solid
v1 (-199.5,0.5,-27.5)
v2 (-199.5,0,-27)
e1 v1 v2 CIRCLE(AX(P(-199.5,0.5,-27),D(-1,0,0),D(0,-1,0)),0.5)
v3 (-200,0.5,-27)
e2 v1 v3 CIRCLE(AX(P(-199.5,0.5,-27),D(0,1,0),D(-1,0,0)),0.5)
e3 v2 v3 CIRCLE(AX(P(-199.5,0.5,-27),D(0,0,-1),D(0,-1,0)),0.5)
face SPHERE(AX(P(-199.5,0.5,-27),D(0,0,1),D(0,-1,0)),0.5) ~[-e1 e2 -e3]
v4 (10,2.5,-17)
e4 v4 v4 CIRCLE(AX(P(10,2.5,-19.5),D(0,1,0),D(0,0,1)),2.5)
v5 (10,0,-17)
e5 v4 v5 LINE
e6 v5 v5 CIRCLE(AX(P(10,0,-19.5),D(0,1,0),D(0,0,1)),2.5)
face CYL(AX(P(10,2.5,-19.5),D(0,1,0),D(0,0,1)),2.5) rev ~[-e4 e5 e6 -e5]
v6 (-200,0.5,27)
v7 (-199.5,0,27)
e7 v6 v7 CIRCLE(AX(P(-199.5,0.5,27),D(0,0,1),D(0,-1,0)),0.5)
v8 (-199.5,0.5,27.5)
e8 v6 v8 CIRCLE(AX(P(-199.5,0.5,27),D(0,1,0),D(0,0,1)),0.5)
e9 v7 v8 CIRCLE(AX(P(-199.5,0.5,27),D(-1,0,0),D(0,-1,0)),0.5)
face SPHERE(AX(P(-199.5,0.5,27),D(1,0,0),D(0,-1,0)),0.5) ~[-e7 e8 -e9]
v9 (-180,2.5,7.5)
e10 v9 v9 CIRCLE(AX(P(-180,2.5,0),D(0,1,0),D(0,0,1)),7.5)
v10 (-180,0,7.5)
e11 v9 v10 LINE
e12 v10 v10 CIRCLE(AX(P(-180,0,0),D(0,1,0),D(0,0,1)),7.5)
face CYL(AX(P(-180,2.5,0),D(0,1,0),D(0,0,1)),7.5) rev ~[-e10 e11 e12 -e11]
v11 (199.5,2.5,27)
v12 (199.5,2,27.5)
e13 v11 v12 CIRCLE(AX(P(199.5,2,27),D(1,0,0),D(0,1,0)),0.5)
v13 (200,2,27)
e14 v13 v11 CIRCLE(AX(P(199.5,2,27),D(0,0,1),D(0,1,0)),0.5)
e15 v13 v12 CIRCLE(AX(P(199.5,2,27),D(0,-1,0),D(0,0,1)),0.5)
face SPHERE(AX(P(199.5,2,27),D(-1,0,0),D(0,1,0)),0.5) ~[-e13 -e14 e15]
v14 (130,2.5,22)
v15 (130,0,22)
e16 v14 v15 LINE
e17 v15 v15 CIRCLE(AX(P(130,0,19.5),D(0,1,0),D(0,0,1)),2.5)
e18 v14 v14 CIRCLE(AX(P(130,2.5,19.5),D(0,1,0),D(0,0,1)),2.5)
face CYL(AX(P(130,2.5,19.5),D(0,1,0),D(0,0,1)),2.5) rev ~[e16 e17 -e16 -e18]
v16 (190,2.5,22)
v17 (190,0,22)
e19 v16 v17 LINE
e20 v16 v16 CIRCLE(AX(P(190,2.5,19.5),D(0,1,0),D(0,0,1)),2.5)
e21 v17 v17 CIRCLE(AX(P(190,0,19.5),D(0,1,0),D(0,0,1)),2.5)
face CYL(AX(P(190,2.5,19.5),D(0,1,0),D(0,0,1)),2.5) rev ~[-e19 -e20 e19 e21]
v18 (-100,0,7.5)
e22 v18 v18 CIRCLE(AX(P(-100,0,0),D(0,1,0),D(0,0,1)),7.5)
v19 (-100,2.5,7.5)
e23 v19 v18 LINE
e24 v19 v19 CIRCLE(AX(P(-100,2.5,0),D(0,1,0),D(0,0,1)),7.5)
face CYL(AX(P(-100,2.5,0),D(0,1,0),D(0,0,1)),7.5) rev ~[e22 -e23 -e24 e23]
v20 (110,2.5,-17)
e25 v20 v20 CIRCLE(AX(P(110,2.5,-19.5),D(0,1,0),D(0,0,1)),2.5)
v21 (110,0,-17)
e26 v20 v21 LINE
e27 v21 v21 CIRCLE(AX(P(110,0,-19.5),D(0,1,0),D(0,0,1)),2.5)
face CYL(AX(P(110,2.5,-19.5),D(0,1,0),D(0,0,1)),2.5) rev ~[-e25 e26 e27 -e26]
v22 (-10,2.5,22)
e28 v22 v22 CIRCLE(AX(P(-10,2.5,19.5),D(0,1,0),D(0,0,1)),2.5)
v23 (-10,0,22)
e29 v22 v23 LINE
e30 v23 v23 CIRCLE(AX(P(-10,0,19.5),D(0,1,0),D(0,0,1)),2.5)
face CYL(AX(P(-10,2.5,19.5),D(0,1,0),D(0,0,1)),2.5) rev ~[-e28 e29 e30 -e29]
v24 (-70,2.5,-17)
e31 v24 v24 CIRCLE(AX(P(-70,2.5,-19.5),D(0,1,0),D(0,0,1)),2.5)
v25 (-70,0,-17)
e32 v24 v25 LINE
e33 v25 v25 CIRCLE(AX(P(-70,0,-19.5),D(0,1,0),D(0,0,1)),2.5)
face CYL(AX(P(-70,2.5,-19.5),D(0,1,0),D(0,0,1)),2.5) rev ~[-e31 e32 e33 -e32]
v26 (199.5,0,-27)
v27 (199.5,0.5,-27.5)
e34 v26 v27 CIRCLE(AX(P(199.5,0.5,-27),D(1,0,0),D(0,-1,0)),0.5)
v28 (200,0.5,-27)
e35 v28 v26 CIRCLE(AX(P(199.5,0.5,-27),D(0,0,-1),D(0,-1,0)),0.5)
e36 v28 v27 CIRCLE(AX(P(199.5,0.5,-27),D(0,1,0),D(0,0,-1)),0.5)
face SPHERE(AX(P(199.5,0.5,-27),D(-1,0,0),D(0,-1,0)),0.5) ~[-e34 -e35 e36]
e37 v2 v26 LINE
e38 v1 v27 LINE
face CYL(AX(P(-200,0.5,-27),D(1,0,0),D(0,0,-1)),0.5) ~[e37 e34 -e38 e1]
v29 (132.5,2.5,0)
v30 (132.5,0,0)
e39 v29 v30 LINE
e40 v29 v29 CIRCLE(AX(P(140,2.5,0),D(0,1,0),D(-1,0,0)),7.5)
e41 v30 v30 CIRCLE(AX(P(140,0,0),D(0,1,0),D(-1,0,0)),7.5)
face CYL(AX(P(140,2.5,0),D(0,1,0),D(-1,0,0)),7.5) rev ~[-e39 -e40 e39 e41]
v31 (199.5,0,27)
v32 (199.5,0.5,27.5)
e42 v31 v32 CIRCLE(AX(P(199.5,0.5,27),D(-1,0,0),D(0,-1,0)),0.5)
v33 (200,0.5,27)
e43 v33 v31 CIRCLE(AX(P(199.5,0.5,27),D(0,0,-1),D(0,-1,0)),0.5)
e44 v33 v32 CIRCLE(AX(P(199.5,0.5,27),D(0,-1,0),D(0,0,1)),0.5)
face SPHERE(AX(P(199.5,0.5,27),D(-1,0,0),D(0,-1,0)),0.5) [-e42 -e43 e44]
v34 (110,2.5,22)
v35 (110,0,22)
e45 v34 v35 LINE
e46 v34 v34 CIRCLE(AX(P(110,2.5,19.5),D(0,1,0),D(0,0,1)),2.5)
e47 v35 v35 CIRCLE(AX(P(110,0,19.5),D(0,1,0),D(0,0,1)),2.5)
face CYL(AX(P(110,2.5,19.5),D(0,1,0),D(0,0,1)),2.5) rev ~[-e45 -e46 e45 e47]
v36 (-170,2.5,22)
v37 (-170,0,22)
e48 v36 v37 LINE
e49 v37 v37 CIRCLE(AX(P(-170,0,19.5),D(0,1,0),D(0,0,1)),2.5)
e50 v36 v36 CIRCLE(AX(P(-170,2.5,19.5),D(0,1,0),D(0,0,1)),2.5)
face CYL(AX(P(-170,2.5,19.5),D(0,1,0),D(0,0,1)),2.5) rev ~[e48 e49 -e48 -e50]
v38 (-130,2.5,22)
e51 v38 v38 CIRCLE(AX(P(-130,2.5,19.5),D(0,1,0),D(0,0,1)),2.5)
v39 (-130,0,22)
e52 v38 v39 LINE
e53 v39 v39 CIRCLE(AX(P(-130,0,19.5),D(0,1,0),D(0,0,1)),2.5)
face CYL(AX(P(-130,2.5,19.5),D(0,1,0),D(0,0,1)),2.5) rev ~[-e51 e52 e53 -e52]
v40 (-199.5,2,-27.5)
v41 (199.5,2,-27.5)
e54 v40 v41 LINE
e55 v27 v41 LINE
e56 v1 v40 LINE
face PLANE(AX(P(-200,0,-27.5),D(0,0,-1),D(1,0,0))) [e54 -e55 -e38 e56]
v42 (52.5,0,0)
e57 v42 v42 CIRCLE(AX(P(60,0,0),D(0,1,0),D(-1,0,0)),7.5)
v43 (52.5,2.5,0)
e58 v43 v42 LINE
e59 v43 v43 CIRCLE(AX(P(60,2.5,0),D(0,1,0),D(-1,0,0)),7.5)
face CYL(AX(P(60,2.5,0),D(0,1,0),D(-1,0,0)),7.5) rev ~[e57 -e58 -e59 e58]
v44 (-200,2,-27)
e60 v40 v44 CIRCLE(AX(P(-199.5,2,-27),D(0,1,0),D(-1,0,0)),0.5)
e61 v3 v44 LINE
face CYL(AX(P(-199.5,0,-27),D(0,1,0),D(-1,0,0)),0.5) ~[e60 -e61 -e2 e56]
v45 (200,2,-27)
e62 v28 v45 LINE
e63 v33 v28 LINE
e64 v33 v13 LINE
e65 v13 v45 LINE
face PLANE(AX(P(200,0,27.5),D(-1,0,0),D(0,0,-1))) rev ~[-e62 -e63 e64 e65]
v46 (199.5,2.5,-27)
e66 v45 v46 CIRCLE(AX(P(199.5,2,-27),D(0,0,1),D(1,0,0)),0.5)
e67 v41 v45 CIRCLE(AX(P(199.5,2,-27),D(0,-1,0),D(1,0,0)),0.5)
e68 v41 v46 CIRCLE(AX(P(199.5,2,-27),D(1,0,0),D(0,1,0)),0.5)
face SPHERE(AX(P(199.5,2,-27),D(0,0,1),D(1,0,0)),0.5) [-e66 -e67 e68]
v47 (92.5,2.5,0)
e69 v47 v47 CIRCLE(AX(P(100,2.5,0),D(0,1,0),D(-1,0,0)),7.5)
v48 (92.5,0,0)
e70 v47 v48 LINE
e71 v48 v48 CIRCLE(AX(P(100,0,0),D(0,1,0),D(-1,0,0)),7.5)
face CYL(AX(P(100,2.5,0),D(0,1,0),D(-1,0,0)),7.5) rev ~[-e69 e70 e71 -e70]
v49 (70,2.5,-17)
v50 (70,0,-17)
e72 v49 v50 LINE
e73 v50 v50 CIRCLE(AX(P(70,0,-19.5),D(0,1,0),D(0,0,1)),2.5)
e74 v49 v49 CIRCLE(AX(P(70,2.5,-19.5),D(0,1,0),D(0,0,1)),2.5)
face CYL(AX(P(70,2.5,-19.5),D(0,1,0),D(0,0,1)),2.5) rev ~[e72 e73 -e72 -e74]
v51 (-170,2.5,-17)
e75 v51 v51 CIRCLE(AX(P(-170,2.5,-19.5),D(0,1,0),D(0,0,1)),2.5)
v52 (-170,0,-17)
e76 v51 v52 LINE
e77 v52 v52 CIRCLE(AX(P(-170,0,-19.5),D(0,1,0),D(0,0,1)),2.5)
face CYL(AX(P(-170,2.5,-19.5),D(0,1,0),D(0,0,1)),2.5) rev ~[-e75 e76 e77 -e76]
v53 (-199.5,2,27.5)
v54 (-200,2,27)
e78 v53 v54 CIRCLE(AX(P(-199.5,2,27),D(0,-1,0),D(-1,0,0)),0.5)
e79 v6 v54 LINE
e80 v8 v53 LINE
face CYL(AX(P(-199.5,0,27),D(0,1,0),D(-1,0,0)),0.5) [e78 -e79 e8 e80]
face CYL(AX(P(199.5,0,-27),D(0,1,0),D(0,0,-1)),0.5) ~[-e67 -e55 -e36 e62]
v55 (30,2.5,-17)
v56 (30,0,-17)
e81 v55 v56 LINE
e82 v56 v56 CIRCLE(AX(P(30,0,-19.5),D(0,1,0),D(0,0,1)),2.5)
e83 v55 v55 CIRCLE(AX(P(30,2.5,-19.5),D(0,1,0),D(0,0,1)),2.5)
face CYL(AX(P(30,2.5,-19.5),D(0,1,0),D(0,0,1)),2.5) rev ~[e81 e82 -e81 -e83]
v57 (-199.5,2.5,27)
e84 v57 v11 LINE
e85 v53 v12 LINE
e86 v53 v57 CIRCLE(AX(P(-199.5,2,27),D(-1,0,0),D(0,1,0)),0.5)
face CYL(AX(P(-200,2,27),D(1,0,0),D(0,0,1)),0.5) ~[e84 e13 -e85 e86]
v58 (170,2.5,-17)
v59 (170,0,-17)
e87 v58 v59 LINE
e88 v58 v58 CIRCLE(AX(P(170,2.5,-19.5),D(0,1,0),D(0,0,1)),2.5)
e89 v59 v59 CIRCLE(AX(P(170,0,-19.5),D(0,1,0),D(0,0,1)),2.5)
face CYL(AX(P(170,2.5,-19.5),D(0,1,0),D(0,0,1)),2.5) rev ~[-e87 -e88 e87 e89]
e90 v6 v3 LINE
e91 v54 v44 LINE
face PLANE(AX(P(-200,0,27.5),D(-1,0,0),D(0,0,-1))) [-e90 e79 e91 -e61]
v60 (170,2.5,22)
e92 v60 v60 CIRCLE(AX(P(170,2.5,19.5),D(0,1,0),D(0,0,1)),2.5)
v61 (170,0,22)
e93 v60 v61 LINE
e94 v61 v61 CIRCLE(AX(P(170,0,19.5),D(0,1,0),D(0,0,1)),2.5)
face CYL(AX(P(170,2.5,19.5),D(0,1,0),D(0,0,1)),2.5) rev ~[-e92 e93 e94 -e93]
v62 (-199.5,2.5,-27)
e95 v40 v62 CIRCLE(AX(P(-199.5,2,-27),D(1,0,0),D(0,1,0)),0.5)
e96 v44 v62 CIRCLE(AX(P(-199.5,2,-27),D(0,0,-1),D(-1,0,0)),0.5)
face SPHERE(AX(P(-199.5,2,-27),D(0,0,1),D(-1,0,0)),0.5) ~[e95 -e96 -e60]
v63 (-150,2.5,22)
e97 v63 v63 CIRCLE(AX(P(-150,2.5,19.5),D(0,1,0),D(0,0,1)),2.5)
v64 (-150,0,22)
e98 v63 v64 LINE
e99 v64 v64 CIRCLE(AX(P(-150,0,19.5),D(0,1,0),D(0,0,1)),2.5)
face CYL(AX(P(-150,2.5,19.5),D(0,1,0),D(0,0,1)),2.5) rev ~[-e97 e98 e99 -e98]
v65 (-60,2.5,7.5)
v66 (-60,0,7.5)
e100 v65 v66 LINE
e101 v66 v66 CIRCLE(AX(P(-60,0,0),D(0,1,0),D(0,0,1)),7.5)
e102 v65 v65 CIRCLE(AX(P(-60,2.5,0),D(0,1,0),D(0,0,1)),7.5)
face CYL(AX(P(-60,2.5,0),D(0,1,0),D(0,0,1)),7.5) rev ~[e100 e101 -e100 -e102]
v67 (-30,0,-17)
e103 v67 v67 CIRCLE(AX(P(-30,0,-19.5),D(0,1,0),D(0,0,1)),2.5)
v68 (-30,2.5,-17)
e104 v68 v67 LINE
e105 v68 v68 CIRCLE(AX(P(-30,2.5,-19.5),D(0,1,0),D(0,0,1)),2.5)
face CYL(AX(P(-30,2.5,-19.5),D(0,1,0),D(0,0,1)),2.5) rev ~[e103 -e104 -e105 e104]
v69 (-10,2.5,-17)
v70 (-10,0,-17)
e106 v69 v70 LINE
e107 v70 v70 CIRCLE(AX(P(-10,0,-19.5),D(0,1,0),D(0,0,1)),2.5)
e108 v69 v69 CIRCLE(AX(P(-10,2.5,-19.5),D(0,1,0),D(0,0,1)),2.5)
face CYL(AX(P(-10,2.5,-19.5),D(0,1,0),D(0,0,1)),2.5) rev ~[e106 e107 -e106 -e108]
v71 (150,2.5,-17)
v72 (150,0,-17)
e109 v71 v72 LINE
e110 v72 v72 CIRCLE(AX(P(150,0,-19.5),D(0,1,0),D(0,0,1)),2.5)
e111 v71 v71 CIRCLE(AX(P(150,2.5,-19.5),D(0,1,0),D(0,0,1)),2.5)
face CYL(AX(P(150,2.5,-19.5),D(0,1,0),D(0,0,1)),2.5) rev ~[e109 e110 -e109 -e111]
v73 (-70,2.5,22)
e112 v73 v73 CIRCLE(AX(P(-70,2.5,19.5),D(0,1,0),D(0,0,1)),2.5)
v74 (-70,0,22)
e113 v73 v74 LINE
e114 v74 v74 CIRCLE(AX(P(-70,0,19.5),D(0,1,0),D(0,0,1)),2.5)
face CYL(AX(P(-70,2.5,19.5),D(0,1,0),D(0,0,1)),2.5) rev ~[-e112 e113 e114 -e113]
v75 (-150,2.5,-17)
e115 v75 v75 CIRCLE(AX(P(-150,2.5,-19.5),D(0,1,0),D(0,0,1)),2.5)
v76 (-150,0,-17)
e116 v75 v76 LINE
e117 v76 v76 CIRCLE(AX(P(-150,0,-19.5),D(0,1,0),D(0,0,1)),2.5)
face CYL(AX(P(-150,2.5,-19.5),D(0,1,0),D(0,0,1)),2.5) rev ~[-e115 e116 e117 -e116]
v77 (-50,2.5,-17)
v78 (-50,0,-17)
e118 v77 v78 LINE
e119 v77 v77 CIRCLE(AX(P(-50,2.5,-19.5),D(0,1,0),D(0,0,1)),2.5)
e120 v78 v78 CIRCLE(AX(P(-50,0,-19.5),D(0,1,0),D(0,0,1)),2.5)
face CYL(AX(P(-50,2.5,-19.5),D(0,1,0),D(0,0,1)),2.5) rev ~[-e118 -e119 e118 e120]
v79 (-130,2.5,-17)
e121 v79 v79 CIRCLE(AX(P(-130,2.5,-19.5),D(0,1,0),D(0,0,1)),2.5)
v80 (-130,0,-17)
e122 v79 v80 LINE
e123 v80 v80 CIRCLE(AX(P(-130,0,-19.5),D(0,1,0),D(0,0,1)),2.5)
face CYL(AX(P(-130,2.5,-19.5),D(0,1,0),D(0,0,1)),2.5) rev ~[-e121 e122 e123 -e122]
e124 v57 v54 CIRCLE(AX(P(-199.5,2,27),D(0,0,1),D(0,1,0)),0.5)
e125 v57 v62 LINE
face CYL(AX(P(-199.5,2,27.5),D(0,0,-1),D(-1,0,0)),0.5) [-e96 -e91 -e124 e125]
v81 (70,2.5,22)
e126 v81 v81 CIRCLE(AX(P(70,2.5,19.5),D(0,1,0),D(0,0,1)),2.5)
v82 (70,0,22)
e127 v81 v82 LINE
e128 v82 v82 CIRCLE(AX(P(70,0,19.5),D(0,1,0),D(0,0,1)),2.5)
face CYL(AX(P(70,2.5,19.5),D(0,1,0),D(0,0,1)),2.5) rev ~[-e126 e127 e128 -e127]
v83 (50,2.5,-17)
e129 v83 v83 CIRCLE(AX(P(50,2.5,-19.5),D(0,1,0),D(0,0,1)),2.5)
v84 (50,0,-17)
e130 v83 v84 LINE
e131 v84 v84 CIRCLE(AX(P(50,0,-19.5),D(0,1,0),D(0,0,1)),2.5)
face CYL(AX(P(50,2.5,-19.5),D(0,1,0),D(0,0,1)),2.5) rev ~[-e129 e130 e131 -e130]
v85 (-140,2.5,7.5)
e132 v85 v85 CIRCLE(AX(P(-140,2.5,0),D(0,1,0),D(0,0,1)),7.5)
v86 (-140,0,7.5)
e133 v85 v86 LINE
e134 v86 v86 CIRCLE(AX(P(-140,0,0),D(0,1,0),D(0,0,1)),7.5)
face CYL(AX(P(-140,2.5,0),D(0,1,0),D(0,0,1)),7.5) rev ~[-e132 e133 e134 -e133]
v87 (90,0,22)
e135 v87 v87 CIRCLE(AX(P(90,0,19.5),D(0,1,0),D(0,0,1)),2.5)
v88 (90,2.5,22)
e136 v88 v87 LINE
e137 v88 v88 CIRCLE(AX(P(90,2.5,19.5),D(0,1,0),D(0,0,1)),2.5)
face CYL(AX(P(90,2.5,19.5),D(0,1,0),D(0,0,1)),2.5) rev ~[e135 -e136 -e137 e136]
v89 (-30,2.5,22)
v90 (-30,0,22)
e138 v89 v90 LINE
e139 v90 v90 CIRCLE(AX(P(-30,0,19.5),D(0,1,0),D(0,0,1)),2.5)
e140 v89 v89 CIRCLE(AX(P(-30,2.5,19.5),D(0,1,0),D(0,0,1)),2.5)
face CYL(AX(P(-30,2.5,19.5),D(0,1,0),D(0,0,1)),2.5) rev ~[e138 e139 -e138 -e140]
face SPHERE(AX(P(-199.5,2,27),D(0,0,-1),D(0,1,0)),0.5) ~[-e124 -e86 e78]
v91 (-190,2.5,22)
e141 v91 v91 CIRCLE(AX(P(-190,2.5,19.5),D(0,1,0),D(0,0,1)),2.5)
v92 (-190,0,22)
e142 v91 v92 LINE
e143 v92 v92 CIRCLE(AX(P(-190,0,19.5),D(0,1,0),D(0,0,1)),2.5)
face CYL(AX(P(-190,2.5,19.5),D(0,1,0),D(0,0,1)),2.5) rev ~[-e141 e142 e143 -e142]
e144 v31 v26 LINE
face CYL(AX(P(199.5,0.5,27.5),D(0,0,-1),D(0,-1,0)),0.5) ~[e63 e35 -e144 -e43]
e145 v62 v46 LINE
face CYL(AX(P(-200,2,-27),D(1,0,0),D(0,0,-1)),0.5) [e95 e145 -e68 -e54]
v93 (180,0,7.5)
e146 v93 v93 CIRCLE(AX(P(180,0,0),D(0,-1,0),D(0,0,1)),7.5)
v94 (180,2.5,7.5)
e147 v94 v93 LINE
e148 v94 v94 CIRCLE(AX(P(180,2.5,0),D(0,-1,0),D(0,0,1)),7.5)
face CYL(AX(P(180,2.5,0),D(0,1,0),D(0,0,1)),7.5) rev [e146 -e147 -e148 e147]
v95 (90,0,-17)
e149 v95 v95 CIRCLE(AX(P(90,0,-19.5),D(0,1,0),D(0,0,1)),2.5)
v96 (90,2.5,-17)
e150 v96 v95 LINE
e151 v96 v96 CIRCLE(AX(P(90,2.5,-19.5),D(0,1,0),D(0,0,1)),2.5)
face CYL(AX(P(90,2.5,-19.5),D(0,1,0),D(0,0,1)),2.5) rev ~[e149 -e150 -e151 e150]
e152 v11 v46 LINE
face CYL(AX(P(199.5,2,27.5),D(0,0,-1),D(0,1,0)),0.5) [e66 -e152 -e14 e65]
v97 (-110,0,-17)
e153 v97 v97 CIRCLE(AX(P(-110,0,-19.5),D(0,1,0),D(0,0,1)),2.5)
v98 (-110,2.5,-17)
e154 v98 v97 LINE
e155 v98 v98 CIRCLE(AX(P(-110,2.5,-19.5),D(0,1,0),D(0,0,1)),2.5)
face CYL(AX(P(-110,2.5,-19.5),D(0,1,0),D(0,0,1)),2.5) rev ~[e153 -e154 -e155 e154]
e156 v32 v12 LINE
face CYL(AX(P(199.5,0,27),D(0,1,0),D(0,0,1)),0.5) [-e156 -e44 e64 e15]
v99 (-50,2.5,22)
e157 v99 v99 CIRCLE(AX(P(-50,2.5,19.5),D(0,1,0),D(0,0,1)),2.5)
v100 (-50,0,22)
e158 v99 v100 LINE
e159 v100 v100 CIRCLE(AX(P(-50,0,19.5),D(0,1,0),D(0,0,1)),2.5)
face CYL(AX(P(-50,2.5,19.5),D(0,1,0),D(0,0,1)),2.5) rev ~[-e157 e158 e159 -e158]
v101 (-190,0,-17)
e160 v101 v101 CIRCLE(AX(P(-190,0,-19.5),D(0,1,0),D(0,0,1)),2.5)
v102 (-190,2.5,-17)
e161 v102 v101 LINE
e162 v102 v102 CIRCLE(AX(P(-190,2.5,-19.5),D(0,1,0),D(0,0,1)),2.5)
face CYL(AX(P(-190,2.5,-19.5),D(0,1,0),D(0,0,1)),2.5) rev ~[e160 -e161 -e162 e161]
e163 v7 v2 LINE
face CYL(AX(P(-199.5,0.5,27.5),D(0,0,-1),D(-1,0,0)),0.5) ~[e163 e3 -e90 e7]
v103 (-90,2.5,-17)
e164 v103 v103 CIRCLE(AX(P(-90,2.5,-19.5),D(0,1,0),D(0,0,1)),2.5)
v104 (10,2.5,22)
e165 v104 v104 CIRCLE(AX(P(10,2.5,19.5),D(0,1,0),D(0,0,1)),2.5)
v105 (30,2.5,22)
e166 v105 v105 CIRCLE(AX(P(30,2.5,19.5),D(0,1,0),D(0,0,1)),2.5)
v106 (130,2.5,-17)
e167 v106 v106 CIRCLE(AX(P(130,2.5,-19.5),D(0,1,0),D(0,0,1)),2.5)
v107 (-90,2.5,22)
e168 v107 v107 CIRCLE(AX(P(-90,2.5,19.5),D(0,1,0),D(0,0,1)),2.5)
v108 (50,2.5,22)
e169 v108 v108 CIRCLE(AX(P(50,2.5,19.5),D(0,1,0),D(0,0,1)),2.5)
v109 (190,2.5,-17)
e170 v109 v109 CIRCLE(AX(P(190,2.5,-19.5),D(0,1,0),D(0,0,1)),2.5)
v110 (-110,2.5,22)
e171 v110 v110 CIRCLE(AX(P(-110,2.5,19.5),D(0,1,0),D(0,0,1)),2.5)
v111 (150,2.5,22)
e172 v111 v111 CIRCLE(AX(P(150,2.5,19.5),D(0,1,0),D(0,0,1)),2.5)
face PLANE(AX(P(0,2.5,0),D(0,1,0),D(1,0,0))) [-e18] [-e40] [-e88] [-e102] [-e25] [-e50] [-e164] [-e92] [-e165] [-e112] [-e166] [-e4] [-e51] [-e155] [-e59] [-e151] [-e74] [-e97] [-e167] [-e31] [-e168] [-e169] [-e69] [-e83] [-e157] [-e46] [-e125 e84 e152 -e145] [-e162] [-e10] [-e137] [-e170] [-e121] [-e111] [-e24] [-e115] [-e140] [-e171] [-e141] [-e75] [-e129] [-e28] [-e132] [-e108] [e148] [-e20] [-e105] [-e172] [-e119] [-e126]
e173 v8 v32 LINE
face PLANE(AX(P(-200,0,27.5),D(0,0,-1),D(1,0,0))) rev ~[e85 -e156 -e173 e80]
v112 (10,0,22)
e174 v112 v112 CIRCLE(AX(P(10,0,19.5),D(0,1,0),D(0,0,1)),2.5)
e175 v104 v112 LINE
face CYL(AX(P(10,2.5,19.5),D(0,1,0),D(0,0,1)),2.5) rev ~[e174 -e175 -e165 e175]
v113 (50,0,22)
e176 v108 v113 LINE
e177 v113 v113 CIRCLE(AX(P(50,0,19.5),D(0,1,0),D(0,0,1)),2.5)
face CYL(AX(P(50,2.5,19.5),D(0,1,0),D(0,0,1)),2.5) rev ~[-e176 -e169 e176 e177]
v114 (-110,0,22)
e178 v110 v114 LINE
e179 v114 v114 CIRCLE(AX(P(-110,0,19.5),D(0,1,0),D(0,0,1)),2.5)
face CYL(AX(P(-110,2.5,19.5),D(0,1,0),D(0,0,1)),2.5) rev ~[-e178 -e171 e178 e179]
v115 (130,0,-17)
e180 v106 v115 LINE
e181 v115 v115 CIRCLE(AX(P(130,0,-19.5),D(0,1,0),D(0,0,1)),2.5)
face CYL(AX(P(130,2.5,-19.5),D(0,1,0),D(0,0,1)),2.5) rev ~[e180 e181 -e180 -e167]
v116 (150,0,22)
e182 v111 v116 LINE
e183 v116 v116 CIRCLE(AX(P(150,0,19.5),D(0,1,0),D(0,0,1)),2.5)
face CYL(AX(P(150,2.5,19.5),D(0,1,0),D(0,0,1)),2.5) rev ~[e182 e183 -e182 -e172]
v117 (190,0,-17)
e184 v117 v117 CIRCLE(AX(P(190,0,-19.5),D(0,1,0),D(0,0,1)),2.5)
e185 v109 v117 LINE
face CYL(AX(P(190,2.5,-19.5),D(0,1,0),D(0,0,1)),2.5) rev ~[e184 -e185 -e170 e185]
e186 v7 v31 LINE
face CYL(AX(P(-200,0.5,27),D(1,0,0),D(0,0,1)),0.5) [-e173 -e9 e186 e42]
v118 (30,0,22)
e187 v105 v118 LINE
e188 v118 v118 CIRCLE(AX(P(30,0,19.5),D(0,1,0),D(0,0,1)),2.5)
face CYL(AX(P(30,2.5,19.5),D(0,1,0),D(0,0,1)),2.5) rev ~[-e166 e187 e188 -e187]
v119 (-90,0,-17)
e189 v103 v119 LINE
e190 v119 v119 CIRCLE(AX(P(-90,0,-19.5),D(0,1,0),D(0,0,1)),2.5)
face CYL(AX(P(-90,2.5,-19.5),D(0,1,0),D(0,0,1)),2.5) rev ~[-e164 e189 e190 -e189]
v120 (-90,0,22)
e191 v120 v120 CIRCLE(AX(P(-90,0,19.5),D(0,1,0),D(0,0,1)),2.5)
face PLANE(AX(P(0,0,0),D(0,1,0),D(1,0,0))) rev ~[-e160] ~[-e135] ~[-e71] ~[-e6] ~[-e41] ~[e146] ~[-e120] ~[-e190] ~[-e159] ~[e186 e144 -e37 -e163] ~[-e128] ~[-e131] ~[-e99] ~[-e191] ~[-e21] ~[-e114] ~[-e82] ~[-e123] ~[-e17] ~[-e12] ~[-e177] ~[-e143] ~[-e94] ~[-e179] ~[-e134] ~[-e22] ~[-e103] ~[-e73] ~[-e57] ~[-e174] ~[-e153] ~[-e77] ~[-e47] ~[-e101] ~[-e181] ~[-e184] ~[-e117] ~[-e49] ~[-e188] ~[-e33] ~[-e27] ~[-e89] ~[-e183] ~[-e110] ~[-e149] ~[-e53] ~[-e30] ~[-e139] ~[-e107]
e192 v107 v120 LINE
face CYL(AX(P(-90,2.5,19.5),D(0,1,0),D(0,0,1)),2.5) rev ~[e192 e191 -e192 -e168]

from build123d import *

# Parameters (mm, degrees)
SKETCH1_W               = 400
SKETCH1_H               = 55
BOSS_EXTRUDE1_DEPTH     = 2.5
SKETCH2_R               = 2.5
CUT_EXTRUDE1_DEPTH      = 2.5
LPATTERN1_COUNT         = 10
LPATTERN1_PITCH         = 40
SKETCH3_R               = 7.5
CUT_EXTRUDE2_DEPTH      = 2.5
LPATTERN2_COUNT         = 4
LPATTERN2_PITCH         = 40
MIRROR1_COPY_1_SKETCH_R = 7.5
MIRROR1_COPY_1_DEPTH    = 2.5
MIRROR1_COPY_2_SKETCH_R = 7.5
MIRROR1_COPY_2_DEPTH    = 2.5
MIRROR1_COPY_3_SKETCH_R = 7.5
MIRROR1_COPY_3_DEPTH    = 2.5
FILLET1_R               = 0.5


with BuildPart() as part:
    # Sketch1 → Boss-Extrude1 (new body)
    with BuildSketch(Plane(origin=(0, 0, 0), x_dir=(1, 0, 0), z_dir=(0, 1, 0))):
        Rectangle(SKETCH1_W, SKETCH1_H)
    extrude(amount=BOSS_EXTRUDE1_DEPTH)

    # Sketch2 → Cut-Extrude1 (cut)
    with BuildSketch(Plane(origin=(0, 2.5, 0), x_dir=(1, 0, 0), z_dir=(0, 1, 0))):
        with Locations(Location((-190, 19.5, 0), (0, 0, 270))):
            Circle(SKETCH2_R)
        with Locations(Location((-170, 19.5, 0), (0, 0, 270))):
            Circle(SKETCH2_R)
        with Locations(Location((-190, -19.5, 0), (0, 0, 270))):
            Circle(SKETCH2_R)
        with Locations(Location((-170, -19.5, 0), (0, 0, 270))):
            Circle(SKETCH2_R)
    cut_extrude1 = extrude(amount=-CUT_EXTRUDE1_DEPTH, mode=Mode.SUBTRACT)

    # LPattern1: Cut-Extrude1 ×10
    with Locations(*[(i * LPATTERN1_PITCH, 0, 0) for i in range(1, LPATTERN1_COUNT)]):
        add(cut_extrude1, mode=Mode.SUBTRACT)

    # Sketch3 → Cut-Extrude2 (cut)
    with BuildSketch(Plane(origin=(0, 2.5, 0), x_dir=(1, 0, 0), z_dir=(0, 1, 0))):
        with Locations(Location((-180, 0, 0), (0, 0, 270))):
            Circle(SKETCH3_R)
    cut_extrude2 = extrude(amount=-CUT_EXTRUDE2_DEPTH, mode=Mode.SUBTRACT)

    # LPattern2: Cut-Extrude2 ×4
    with Locations(*[(i * LPATTERN2_PITCH, 0, 0) for i in range(1, LPATTERN2_COUNT)]):
        add(cut_extrude2, mode=Mode.SUBTRACT)

    # Mirror1: Cut-Extrude2 across plane
    add(cut_extrude2.mirror(Plane(origin=(0, 0, 0), x_dir=(0, 0, 1), z_dir=(1, 0, 0))), mode=Mode.SUBTRACT)

    # Mirror1 copy 1 sketch → Mirror1 copy 1 (cut)
    with BuildSketch(Plane(origin=(-40, 2.5, 0), x_dir=(-1, 0, 0), z_dir=(0, 1, 0))):
        with Locations((-180, 0)):
            Circle(MIRROR1_COPY_1_SKETCH_R)
    extrude(amount=-MIRROR1_COPY_1_DEPTH, mode=Mode.SUBTRACT)

    # Mirror1 copy 2 sketch → Mirror1 copy 2 (cut)
    with BuildSketch(Plane(origin=(-80, 2.5, 0), x_dir=(-1, 0, 0), z_dir=(0, 1, 0))):
        with Locations((-180, 0)):
            Circle(MIRROR1_COPY_2_SKETCH_R)
    extrude(amount=-MIRROR1_COPY_2_DEPTH, mode=Mode.SUBTRACT)

    # Mirror1 copy 3 sketch → Mirror1 copy 3 (cut)
    with BuildSketch(Plane(origin=(-120, 2.5, 0), x_dir=(-1, 0, 0), z_dir=(0, 1, 0))):
        with Locations((-180, 0)):
            Circle(MIRROR1_COPY_3_SKETCH_R)
    extrude(amount=-MIRROR1_COPY_3_DEPTH, mode=Mode.SUBTRACT)

    # Fillet1
    fillet1_edges = [part.edges().sort_by_distance(p)[0] for p in [
        (-200, 2.5, 0),
        (0, 2.5, 27.5),
        (200, 2.5, 0),
        (0, 0, 27.5),
        (-200, 0, 0),
        (0, 0, -27.5),
        (200, 0, 0),
        (200, 1.25, 27.5),
        (-200, 1.25, 27.5),
        (-200, 1.25, -27.5),
        (200, 1.25, -27.5),
        (0, 2.5, -27.5),
    ]]
    fillet(fillet1_edges, radius=FILLET1_R)


solid = part.part
